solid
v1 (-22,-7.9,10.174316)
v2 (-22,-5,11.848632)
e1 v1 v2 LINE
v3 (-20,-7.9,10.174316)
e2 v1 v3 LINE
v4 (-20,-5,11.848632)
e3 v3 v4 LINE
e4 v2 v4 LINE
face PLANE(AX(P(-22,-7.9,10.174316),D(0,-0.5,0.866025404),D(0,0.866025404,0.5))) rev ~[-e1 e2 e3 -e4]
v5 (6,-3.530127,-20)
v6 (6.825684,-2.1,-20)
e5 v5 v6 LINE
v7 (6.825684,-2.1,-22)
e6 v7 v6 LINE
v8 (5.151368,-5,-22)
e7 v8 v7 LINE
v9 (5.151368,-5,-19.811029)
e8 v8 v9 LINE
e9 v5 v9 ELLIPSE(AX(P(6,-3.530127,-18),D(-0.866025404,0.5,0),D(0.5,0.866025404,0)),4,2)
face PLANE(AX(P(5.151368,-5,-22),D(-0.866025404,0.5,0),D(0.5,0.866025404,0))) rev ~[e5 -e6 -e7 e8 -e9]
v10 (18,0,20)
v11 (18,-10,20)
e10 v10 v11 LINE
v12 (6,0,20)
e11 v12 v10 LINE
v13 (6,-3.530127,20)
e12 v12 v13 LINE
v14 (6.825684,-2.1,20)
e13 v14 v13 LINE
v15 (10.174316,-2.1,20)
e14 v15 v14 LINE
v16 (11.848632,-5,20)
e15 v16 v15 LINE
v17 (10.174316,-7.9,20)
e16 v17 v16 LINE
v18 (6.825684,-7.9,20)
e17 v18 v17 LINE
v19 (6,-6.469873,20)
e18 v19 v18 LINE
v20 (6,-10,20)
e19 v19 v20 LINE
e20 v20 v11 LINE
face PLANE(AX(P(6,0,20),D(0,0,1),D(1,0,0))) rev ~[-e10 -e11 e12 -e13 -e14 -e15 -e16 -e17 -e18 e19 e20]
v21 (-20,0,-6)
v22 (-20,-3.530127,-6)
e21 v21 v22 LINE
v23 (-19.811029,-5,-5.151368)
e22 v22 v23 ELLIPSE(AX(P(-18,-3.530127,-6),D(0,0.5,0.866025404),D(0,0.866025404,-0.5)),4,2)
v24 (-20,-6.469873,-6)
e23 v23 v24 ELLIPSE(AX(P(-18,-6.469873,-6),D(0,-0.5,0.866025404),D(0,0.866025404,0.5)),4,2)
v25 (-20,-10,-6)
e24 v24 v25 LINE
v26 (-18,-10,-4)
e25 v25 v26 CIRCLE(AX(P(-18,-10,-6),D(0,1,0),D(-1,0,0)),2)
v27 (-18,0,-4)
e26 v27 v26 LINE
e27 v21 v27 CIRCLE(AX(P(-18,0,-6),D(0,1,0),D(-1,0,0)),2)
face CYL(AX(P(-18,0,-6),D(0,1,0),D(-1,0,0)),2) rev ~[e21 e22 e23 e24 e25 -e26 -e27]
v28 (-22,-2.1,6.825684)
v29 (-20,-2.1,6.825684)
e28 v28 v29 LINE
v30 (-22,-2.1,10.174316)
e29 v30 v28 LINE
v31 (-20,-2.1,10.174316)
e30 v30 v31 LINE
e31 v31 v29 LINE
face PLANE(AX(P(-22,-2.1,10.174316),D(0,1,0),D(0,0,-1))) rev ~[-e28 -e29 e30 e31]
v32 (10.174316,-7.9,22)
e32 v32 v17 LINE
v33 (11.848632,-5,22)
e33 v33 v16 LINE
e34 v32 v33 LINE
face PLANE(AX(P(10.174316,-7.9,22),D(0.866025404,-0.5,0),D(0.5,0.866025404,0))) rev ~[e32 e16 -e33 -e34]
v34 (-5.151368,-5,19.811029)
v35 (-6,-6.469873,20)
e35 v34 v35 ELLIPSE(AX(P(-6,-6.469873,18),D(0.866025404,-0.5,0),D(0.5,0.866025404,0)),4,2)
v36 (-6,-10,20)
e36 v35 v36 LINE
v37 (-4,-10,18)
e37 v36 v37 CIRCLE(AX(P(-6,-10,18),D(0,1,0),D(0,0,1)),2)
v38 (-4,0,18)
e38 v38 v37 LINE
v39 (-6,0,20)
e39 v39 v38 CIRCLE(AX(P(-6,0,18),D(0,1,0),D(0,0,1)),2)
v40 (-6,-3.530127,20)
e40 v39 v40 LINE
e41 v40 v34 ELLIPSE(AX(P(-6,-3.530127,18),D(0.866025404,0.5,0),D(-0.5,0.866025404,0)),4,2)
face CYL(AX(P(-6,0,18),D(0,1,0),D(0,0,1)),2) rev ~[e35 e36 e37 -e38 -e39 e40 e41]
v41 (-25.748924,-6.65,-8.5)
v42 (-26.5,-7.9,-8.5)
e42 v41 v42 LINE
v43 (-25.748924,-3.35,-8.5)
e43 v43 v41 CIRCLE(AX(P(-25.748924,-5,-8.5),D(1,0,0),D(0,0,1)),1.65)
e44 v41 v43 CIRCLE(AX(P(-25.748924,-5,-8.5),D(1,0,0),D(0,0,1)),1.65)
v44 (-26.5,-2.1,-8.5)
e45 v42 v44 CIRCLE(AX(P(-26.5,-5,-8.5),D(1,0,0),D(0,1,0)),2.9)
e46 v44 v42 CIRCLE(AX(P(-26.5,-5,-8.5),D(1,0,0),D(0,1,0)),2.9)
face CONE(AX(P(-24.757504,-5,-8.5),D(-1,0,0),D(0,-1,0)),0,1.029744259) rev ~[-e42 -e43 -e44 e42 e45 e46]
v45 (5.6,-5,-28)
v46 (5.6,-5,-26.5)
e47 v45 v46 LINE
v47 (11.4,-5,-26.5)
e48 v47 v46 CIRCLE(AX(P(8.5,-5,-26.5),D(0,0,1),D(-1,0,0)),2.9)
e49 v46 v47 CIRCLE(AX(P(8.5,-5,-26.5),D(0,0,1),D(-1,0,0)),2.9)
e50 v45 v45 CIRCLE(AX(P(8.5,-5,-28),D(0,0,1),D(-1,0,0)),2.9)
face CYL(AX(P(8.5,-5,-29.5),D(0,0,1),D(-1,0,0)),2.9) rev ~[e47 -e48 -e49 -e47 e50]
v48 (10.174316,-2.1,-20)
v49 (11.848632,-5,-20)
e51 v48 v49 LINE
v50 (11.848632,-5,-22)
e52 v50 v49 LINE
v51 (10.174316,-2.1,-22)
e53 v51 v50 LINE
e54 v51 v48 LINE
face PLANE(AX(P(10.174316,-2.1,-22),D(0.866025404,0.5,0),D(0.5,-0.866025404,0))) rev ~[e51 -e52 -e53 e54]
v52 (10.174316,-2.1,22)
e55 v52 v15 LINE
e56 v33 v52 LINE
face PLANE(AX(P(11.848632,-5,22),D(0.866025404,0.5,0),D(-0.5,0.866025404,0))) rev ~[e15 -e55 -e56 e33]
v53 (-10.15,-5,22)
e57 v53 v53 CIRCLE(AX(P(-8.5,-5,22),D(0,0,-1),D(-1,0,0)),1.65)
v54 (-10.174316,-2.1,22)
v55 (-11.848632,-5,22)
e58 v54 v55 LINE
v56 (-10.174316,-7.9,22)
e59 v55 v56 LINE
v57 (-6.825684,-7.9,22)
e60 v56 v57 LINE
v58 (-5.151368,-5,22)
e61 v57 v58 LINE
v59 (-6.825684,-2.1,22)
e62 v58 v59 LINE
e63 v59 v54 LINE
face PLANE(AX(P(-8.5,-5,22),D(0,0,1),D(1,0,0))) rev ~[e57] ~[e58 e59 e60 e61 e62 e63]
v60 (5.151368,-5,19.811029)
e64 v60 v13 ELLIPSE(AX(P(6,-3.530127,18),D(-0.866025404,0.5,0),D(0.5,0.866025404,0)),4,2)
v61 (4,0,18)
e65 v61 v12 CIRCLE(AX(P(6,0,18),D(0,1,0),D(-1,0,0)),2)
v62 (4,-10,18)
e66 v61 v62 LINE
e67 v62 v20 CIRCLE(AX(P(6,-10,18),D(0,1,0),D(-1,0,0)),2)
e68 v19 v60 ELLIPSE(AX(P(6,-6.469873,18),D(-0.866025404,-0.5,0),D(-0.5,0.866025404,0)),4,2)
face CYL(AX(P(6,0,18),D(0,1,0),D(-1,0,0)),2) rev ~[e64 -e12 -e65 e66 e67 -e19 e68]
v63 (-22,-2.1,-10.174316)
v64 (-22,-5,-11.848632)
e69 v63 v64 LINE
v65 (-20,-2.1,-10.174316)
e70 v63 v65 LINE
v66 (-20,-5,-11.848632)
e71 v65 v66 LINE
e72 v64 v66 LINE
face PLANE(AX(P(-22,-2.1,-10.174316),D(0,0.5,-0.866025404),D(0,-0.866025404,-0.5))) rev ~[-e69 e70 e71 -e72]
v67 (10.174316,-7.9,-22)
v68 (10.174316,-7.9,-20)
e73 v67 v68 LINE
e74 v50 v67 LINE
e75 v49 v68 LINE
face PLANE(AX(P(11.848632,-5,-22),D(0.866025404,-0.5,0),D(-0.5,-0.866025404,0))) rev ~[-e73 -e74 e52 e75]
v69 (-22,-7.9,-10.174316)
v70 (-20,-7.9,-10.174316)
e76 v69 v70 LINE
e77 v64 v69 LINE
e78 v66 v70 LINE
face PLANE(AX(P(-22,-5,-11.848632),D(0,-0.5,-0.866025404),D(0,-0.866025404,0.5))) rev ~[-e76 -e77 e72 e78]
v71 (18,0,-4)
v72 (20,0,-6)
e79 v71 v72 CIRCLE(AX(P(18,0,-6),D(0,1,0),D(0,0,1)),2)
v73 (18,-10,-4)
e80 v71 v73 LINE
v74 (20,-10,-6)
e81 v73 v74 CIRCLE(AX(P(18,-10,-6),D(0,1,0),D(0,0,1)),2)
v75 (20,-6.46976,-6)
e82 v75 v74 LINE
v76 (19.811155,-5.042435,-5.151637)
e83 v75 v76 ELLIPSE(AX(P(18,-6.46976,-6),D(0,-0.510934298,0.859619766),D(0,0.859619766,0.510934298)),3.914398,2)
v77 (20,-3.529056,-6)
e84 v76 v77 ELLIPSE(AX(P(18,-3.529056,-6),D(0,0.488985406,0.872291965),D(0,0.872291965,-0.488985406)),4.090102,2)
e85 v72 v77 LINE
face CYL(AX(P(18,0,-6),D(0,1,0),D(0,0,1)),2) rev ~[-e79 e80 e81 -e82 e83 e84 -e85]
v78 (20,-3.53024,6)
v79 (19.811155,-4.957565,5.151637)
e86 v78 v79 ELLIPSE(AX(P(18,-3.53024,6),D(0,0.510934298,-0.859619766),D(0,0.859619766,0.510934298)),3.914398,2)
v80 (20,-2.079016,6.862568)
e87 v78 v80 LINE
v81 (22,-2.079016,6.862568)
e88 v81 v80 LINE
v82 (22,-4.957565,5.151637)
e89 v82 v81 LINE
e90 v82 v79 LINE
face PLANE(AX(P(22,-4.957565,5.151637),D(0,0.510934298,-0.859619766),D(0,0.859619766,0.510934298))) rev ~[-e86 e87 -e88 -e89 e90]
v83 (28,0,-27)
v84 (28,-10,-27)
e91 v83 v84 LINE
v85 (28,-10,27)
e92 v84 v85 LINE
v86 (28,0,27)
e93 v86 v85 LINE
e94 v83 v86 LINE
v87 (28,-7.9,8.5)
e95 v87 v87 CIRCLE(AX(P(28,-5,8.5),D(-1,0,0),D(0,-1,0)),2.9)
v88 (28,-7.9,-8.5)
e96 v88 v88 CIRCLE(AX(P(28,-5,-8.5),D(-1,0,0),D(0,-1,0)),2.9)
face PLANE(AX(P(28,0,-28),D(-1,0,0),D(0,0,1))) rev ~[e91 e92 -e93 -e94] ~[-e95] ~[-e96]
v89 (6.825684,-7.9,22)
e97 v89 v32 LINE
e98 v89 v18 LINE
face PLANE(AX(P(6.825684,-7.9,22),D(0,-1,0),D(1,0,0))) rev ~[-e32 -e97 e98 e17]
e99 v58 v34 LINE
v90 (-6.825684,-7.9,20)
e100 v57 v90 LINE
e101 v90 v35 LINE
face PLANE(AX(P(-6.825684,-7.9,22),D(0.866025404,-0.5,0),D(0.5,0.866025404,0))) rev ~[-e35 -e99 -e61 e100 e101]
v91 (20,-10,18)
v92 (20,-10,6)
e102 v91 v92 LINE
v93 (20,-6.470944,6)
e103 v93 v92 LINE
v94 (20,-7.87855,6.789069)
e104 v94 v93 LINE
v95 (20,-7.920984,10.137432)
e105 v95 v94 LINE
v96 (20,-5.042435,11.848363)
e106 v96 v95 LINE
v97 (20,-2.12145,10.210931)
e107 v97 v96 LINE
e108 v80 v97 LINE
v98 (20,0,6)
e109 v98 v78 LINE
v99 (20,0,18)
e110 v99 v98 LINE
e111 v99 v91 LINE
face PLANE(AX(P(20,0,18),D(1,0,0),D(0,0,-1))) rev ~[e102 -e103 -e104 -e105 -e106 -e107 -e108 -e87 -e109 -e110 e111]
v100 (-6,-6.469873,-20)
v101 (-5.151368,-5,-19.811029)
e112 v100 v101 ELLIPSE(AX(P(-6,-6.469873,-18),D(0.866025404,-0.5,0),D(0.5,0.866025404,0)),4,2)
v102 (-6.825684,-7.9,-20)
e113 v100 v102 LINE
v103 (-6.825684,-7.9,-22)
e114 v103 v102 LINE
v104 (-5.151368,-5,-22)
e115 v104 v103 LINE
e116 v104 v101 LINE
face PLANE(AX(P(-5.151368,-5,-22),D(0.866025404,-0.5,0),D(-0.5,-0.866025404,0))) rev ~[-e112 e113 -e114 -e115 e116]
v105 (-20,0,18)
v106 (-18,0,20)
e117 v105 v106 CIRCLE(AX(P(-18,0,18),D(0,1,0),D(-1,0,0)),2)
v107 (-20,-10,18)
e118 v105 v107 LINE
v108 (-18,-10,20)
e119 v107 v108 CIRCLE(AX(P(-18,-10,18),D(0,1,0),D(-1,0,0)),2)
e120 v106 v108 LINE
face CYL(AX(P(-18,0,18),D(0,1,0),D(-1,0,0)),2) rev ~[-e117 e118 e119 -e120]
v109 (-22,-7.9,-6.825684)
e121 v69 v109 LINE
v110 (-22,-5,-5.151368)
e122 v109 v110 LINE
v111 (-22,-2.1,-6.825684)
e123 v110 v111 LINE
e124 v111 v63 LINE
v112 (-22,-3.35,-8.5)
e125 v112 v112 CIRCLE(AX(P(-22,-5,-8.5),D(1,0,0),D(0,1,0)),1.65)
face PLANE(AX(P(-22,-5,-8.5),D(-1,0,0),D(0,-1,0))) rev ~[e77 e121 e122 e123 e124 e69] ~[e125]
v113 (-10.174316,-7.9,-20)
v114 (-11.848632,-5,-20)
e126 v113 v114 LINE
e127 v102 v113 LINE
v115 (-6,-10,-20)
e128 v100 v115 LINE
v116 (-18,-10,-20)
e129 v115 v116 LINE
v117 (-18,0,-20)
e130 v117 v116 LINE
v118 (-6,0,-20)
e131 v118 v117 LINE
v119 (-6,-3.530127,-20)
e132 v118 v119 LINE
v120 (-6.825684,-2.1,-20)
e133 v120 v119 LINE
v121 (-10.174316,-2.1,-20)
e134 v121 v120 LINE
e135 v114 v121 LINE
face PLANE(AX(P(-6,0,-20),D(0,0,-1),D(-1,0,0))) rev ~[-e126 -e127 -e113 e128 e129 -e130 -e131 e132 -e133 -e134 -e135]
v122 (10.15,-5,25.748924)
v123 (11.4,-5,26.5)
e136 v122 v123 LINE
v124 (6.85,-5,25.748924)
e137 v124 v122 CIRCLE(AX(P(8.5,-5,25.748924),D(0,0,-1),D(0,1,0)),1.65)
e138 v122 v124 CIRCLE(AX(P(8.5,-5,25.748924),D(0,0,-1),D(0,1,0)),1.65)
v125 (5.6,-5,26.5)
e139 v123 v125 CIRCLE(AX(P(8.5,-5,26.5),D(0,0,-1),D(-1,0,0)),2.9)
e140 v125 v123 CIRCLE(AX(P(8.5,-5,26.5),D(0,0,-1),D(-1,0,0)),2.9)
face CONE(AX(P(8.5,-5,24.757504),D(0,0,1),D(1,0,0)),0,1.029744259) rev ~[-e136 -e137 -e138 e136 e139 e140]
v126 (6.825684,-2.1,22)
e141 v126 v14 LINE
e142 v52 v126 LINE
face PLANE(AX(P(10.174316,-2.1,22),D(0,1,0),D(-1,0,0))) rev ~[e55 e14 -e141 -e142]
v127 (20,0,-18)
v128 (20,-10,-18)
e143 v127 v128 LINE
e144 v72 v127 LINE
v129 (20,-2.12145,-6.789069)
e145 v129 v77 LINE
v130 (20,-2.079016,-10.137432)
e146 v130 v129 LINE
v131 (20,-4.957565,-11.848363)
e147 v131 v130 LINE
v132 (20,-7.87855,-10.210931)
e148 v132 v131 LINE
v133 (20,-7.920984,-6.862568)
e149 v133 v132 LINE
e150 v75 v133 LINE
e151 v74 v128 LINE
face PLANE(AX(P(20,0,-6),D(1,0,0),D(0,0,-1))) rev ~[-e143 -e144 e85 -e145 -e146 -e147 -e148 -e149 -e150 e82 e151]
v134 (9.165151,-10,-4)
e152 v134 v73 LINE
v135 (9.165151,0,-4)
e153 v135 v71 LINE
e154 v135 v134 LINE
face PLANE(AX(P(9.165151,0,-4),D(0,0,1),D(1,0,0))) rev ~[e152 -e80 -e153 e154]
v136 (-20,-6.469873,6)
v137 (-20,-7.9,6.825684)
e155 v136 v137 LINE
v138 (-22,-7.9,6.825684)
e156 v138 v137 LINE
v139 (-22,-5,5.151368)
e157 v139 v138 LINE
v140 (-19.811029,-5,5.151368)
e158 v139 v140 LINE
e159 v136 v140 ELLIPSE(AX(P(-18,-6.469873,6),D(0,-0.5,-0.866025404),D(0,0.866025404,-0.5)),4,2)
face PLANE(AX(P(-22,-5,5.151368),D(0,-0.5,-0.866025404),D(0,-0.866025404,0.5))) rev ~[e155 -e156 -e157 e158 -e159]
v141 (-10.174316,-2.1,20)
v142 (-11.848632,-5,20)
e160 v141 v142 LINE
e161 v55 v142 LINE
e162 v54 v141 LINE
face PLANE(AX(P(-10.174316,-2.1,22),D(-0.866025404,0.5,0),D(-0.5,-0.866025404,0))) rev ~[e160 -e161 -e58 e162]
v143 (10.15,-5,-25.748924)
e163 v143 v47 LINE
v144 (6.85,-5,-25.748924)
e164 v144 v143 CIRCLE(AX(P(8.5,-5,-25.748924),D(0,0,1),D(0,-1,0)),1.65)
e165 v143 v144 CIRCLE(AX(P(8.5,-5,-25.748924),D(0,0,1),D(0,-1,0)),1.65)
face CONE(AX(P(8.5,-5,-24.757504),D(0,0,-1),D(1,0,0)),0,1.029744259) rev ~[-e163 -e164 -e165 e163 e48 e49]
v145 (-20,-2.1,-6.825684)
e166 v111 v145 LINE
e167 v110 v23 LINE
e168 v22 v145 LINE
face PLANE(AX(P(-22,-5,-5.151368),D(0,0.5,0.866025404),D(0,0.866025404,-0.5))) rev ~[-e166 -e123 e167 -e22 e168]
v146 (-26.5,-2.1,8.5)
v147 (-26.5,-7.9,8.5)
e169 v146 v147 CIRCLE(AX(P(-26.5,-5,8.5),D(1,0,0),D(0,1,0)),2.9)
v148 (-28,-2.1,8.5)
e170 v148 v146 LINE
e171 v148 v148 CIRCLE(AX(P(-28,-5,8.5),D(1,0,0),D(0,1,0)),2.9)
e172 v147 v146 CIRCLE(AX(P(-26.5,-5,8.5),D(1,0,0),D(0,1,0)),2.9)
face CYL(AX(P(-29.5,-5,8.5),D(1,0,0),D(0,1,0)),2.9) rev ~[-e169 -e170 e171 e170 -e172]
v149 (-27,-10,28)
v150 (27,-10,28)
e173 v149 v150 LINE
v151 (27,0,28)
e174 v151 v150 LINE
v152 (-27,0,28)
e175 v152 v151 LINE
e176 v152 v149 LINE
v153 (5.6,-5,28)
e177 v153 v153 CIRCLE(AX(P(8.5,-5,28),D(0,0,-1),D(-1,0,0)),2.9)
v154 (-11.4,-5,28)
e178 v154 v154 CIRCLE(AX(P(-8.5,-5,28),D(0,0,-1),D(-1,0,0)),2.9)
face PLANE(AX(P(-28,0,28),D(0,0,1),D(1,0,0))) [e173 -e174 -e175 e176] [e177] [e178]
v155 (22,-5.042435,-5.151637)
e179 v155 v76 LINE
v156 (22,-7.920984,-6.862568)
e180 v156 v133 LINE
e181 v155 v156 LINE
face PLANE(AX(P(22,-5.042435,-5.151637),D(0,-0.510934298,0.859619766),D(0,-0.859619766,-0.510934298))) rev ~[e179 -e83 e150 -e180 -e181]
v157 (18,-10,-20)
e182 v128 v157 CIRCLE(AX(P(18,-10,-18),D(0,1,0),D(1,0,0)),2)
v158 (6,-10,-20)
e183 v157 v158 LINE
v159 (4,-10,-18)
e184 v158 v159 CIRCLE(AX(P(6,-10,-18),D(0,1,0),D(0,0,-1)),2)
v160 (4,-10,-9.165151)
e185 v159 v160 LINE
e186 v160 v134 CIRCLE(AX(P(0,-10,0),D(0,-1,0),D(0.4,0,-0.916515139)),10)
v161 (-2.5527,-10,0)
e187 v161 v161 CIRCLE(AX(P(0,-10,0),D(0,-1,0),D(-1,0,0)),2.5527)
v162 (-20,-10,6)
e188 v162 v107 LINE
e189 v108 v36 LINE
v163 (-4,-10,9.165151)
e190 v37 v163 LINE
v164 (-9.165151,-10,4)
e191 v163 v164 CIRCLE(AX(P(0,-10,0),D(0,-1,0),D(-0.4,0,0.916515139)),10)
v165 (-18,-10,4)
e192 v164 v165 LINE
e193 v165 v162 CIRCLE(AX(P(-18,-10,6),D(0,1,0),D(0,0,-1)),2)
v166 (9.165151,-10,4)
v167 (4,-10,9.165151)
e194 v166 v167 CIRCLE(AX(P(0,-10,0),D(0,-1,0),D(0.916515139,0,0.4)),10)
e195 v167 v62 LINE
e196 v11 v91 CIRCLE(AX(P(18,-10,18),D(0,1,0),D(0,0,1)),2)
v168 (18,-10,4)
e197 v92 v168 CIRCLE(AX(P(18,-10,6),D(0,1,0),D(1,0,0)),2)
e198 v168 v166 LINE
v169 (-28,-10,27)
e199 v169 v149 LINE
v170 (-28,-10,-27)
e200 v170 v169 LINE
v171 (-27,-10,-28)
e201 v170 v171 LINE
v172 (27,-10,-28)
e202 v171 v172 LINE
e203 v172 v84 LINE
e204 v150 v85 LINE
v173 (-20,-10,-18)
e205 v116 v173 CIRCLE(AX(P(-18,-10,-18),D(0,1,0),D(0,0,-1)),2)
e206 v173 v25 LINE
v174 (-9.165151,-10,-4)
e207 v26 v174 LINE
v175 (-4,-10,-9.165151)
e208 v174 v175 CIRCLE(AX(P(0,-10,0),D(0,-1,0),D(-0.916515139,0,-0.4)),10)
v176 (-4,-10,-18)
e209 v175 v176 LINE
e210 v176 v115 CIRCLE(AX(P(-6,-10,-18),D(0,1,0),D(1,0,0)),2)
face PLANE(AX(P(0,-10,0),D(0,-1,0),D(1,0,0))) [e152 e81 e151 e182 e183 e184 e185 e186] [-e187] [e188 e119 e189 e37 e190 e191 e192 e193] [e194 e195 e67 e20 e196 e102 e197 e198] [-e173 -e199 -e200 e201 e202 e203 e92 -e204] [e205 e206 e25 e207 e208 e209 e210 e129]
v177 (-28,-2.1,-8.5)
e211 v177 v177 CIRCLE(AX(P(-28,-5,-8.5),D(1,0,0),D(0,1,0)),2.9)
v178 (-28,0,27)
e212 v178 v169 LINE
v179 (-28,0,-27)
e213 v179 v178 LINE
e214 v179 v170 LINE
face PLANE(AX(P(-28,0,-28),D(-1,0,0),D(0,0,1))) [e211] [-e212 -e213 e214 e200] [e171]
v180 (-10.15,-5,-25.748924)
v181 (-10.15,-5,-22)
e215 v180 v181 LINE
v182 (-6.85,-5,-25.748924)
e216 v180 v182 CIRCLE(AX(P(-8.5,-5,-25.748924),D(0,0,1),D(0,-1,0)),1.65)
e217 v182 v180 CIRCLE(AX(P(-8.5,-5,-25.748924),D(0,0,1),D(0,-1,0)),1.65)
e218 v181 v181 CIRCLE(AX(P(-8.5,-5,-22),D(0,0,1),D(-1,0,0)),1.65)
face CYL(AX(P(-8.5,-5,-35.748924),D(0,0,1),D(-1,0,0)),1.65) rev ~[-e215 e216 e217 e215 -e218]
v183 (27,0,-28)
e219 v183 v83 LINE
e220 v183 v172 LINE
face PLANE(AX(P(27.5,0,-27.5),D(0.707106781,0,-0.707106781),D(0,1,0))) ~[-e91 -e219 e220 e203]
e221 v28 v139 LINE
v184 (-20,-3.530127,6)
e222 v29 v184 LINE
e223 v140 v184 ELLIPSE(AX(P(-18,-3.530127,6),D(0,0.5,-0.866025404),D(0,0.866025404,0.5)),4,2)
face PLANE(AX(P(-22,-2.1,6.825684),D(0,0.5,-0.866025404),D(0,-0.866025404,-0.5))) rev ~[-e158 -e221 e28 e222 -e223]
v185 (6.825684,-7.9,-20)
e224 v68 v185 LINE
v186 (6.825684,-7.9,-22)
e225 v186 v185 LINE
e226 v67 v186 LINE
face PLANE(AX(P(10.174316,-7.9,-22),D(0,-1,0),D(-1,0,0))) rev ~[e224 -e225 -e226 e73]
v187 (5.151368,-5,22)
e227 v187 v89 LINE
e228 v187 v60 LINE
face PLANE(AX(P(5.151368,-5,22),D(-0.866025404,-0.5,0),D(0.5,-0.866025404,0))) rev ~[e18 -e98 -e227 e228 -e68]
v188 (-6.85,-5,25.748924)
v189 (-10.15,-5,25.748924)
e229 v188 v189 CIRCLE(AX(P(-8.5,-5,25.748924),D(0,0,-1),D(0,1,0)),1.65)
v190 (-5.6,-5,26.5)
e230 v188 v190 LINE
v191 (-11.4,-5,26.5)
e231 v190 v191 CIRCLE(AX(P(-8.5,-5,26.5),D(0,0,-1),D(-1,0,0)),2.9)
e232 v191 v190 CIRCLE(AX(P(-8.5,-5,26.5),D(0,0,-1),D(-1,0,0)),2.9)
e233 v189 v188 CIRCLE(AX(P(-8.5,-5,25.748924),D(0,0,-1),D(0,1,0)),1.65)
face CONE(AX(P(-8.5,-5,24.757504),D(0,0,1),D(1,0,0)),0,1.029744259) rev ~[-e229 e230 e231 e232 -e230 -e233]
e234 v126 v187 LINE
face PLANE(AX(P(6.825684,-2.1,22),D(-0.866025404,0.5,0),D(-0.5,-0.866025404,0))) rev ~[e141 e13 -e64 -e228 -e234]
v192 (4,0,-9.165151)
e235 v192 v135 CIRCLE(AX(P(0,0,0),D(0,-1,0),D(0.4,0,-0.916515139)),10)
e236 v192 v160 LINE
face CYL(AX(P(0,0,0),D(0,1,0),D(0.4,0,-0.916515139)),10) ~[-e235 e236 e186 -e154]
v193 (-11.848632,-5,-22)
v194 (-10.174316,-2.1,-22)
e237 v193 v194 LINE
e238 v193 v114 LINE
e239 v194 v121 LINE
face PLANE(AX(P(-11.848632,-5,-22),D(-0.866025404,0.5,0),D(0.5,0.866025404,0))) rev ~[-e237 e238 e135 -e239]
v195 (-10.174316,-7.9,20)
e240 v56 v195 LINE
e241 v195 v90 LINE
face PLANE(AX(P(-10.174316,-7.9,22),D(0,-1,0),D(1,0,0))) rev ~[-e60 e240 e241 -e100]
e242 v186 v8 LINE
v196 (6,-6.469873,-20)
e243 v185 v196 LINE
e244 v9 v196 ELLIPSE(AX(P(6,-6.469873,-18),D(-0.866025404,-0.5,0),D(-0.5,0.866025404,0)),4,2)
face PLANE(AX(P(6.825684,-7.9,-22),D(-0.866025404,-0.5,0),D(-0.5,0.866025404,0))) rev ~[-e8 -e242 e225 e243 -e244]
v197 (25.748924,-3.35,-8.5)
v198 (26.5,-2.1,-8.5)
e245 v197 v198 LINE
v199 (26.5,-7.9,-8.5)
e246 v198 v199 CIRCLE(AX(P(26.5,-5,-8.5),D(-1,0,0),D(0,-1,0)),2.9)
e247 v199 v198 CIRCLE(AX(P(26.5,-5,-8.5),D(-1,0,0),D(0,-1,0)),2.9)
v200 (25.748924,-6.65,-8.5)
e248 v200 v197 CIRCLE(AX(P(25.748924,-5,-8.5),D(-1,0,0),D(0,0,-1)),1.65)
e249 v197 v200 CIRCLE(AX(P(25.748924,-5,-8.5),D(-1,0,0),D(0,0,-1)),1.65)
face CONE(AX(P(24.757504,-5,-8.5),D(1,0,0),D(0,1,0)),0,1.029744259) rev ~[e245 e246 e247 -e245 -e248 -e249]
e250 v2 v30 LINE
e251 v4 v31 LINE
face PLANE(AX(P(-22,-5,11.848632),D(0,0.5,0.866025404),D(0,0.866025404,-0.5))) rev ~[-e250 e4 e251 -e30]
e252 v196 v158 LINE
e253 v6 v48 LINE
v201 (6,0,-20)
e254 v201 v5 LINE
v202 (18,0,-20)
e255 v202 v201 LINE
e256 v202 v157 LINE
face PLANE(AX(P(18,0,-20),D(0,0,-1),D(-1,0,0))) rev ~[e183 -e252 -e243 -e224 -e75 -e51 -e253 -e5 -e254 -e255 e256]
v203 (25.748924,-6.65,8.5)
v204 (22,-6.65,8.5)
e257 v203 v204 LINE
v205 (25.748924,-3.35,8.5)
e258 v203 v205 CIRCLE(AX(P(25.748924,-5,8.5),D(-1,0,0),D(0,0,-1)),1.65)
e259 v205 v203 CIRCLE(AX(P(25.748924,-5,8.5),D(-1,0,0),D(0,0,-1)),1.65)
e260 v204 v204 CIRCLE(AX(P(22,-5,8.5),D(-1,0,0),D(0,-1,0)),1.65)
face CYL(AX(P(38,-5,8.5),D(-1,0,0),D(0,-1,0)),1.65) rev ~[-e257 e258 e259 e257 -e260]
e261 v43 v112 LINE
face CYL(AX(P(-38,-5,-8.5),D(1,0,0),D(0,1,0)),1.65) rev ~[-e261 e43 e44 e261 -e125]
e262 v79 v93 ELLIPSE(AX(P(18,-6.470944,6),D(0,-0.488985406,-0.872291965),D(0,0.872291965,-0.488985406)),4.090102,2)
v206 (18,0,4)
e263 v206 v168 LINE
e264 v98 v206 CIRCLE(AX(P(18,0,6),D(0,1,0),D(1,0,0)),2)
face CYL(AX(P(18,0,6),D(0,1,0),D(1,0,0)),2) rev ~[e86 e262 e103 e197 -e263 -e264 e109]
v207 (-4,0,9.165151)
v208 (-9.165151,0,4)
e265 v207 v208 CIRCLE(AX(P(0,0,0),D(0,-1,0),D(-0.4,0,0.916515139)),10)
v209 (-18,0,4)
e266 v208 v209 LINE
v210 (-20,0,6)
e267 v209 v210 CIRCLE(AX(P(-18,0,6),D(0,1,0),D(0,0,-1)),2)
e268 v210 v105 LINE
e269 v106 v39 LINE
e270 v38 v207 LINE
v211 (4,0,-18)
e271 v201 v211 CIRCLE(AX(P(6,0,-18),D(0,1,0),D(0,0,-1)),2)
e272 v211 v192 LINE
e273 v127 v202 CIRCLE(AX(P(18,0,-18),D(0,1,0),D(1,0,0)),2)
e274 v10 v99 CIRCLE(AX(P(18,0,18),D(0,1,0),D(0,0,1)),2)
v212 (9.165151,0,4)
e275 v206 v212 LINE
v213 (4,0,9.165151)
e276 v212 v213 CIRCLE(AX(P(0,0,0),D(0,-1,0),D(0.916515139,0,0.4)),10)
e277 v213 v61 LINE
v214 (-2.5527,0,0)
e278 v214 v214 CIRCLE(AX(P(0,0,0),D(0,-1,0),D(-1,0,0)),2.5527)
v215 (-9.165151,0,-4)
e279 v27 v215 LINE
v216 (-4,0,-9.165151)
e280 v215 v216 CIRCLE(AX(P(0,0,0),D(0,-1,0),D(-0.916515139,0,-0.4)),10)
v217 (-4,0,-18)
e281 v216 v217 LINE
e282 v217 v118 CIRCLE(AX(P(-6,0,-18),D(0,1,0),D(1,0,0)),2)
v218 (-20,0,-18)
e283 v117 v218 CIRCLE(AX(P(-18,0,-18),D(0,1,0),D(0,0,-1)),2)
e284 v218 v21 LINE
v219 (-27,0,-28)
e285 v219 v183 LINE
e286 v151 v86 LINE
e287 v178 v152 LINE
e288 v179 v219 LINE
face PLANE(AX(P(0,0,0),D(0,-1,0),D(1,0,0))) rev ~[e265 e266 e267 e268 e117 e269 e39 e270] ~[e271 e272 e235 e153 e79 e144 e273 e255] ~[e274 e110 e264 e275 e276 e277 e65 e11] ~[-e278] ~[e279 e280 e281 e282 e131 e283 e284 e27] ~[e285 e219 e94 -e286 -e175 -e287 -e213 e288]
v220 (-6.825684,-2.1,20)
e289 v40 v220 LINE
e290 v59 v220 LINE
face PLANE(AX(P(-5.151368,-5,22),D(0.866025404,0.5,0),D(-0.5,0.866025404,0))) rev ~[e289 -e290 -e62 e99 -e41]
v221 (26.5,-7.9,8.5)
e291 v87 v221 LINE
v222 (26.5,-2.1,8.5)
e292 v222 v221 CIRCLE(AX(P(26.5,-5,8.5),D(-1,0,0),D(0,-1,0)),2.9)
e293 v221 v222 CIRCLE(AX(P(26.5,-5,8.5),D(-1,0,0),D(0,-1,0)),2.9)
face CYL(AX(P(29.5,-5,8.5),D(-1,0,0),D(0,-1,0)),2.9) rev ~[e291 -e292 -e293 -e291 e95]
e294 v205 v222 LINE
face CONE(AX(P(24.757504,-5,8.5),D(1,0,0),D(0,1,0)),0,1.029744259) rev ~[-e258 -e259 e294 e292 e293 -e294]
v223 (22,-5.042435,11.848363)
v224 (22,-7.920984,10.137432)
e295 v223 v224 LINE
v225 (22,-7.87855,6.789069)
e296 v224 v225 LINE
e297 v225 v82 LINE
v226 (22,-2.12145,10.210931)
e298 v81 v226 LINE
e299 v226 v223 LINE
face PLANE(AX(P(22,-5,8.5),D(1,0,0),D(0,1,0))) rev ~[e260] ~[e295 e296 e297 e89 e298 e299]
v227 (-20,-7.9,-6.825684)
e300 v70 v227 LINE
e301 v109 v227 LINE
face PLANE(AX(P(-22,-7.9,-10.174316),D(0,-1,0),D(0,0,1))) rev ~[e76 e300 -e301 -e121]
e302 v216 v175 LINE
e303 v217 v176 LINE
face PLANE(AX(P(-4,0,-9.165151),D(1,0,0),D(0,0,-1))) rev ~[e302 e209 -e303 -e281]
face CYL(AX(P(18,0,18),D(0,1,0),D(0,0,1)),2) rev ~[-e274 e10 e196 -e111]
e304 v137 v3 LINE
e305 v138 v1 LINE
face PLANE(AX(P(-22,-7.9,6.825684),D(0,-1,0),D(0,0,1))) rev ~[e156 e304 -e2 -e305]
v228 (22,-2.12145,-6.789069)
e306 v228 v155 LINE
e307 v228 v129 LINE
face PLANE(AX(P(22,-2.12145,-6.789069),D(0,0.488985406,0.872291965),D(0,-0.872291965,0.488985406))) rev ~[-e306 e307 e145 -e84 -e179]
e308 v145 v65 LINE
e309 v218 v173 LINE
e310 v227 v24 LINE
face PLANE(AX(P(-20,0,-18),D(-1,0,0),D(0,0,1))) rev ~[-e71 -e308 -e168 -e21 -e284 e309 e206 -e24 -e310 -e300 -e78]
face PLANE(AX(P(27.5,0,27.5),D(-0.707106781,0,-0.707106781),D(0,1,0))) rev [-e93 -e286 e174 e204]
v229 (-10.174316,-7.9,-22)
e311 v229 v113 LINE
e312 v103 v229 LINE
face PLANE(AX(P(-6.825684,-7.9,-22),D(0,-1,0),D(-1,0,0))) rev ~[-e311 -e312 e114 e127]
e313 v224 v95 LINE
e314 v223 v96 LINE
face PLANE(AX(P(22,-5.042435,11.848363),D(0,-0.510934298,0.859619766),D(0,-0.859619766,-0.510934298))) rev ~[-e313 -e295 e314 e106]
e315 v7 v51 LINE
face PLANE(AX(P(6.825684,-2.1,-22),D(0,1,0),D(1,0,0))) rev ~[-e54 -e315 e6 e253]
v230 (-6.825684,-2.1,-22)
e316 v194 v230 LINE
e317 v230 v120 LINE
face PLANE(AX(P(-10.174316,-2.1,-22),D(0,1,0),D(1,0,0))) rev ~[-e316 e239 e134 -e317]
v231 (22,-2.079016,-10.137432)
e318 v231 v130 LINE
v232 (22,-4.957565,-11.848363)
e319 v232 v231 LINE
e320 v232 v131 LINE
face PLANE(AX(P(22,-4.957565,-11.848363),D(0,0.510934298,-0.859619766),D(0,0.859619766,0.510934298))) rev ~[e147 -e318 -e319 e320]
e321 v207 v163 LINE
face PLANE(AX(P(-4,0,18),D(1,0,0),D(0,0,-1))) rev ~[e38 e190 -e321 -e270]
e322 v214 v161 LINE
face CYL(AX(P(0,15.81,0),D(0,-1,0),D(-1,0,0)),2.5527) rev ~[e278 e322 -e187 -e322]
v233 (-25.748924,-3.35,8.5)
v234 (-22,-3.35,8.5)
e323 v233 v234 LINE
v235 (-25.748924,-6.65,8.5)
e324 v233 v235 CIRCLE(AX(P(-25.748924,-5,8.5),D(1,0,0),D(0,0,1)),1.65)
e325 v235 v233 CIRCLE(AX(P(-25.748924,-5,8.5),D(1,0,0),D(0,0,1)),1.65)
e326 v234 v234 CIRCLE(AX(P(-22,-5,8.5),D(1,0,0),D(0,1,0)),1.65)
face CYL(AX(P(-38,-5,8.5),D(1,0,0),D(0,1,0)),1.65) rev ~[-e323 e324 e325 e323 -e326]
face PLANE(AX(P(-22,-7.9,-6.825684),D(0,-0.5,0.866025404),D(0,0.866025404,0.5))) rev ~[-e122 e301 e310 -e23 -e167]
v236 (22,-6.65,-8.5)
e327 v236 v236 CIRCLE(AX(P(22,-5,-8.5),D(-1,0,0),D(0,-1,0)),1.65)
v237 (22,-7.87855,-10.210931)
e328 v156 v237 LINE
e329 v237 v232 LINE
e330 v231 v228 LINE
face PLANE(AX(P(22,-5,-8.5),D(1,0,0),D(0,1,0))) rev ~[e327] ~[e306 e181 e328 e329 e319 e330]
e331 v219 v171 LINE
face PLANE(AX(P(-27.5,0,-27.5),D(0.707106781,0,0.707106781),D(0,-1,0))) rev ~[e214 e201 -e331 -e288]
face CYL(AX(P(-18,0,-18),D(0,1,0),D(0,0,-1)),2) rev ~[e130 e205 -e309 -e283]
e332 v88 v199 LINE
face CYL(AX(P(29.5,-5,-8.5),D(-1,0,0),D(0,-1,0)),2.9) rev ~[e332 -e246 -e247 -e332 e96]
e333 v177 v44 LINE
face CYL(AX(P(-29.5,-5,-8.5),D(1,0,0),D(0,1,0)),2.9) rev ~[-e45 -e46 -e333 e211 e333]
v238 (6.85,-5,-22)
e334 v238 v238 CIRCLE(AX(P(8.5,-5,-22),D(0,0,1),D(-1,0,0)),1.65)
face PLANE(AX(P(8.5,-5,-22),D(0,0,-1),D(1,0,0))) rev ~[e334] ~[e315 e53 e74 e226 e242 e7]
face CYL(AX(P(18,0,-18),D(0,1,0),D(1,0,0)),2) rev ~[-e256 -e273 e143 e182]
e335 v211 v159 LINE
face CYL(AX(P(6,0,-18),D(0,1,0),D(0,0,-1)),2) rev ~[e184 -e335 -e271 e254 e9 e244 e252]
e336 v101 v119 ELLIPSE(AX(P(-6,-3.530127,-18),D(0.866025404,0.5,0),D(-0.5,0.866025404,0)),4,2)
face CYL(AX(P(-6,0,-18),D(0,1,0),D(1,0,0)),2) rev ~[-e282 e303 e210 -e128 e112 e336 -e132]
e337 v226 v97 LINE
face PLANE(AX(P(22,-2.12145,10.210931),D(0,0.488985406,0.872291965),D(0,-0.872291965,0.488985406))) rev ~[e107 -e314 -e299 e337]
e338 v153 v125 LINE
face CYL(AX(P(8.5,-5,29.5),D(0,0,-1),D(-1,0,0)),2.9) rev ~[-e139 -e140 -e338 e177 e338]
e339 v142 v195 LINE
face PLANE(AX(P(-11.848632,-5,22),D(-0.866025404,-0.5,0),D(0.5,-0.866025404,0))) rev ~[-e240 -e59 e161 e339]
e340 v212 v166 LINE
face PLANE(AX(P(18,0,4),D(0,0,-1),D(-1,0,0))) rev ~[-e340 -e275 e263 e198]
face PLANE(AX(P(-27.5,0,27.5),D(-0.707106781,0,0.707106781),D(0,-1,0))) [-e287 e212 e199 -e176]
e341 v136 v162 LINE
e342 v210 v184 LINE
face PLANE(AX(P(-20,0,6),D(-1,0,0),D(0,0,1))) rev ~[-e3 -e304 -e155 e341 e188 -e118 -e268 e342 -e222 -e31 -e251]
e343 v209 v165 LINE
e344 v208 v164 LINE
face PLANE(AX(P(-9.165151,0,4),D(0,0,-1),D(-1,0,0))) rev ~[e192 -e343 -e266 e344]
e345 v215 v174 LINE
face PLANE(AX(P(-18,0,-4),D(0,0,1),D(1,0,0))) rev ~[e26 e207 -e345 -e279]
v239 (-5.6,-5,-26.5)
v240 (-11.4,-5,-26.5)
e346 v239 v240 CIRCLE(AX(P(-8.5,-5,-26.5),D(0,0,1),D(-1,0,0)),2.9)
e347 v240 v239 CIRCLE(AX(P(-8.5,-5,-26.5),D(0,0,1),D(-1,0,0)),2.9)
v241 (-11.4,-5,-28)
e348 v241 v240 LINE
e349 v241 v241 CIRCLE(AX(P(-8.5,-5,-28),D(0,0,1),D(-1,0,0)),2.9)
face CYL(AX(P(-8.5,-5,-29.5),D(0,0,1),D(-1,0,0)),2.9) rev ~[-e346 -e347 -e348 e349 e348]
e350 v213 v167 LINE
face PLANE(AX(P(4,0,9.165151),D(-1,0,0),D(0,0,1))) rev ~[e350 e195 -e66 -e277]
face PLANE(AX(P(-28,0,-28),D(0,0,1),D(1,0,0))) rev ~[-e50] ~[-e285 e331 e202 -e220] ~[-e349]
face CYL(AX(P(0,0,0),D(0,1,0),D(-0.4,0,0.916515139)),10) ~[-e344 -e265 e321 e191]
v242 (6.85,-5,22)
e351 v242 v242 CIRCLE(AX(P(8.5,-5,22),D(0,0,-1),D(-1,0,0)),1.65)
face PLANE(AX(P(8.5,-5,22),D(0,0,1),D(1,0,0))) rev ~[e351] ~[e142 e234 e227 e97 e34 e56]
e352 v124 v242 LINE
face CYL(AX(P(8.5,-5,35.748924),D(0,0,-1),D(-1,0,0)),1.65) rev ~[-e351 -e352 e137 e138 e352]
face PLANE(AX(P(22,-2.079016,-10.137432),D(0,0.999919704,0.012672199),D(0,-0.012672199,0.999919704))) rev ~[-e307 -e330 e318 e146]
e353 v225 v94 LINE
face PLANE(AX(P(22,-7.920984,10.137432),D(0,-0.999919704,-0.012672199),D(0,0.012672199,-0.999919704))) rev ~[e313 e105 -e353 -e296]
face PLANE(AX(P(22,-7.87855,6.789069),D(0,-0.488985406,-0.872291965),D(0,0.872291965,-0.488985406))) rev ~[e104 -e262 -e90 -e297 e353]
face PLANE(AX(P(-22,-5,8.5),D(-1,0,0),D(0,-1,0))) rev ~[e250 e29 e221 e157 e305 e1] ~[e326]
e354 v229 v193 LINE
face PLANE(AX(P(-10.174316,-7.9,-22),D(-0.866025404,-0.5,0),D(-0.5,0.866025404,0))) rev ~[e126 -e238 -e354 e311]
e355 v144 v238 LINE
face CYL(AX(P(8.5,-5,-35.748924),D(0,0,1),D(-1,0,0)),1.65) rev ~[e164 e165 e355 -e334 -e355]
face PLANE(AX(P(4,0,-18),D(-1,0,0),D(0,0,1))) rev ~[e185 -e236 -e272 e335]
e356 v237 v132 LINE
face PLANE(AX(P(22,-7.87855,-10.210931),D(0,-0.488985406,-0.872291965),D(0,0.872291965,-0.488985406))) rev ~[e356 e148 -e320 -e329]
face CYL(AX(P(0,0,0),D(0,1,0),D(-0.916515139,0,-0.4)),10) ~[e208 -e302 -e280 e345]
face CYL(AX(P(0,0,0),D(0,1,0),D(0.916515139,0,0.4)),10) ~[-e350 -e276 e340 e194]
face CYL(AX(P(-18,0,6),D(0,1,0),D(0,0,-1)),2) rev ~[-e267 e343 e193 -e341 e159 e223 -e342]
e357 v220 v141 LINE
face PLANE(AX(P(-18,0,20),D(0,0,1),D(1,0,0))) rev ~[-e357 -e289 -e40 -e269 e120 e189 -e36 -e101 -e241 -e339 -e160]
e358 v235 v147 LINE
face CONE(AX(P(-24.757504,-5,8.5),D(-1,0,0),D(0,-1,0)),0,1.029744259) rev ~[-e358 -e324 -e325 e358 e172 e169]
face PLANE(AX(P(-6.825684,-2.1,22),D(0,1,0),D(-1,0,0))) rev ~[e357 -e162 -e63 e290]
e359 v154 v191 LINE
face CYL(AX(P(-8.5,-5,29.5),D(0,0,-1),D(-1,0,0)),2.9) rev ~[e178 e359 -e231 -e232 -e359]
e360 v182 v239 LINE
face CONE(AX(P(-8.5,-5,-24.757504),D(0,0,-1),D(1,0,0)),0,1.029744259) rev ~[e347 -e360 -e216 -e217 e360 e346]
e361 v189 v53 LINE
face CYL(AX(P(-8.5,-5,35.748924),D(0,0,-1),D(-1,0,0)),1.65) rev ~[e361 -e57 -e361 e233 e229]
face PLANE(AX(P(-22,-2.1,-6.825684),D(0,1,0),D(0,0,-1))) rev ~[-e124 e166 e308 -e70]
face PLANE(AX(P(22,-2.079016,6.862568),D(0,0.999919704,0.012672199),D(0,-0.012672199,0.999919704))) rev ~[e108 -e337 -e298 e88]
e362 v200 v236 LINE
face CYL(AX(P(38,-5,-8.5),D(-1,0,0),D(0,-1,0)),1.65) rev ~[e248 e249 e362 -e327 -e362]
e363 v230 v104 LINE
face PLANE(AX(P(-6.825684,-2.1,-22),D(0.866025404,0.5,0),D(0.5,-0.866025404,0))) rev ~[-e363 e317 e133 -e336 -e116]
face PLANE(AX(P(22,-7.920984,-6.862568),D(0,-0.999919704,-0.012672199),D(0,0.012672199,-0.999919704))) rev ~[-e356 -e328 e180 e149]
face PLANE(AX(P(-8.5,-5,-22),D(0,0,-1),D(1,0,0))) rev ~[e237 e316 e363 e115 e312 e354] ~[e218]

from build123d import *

# Parameters (mm, degrees)
F0_W      = 56
F0_H      = 56
F0_W_2    = 8
F0_H_2    = 8
F1_DEPTH  = 10
F3_START  = -6
F3_DEPTH  = 4
F4_D      = 3.3
F4_DEPTH  = 10
F4_TIP    = 0.9914200214
F5_D      = 5.8
F5_DEPTH  = 1.5
F5_TIP    = 1.7424957952
F7_START  = -6
F7_DEPTH  = 4
F8_D      = 5.8
F8_DEPTH  = 1.5
F8_TIP    = 1.7424957952
F9_D      = 3.3
F9_DEPTH  = 10
F9_START  = 2.2510758
F9_TIP    = 0.9914200214
F11_START = -6
F11_DEPTH = 4
F12_D     = 3.3
F12_DEPTH = 10
F12_TIP   = 0.9914200214
F13_D     = 5.8
F13_DEPTH = 1.5
F13_TIP   = 1.7424957952
F15_START = -6
F15_DEPTH = 4
F16_D     = 5.8
F16_DEPTH = 1.5
F16_TIP   = 1.7424957952
F17_D     = 3.3
F17_DEPTH = 10
F17_START = 2.2510758
F17_TIP   = 0.9914200214
F18_SIZE  = 1
F19_D     = 5.1054
F19_DEPTH = 15.81
F19_TIP   = 1.5338169022


with BuildPart() as f1:
    # F0 (on Front) → F1 (new body)
    with BuildSketch(Plane.XZ):
        Rectangle(F0_W, F0_H)
        with BuildLine():
            ThreePointArc((20, -18), (19.4142135624, -19.4142135624), (18, -20))
            Line((18, -20), (6, -20))
            ThreePointArc((6, -20), (4.5857864376, -19.4142135624), (4, -18))
            Line((4, -18), (4, -9.1651513899))
            ThreePointArc((4, -9.1651513899), (0, -10), (-4, -9.1651513899))
            Line((-4, -9.1651513899), (-4, -18))
            ThreePointArc((-4, -18), (-4.5857864376, -19.4142135624), (-6, -20))
            Line((-6, -20), (-18, -20))
            ThreePointArc((-18, -20), (-19.4142135624, -19.4142135624), (-20, -18))
            Line((-20, -18), (-20, -6))
            ThreePointArc((-20, -6), (-19.4142135624, -4.5857864376), (-18, -4))
            Line((-18, -4), (-9.1651513899, -4))
            ThreePointArc((-9.1651513899, -4), (-10, 0), (-9.1651513899, 4))
            Line((-9.1651513899, 4), (-18, 4))
            ThreePointArc((-18, 4), (-19.4142135624, 4.5857864376), (-20, 6))
            Line((-20, 6), (-20, 18))
            ThreePointArc((-20, 18), (-19.4142135624, 19.4142135624), (-18, 20))
            Line((-18, 20), (-6, 20))
            ThreePointArc((-6, 20), (-4.5857864376, 19.4142135624), (-4, 18))
            Line((-4, 18), (-4, 9.1651513899))
            ThreePointArc((-4, 9.1651513899), (0, 10), (4, 9.1651513899))
            Line((4, 9.1651513899), (4, 18))
            ThreePointArc((4, 18), (4.5857864376, 19.4142135624), (6, 20))
            Line((6, 20), (18, 20))
            ThreePointArc((18, 20), (19.4142135624, 19.4142135624), (20, 18))
            Line((20, 18), (20, 6))
            ThreePointArc((20, 6), (19.4142135624, 4.5857864376), (18, 4))
            Line((18, 4), (9.1651513899, 4))
            ThreePointArc((9.1651513899, 4), (9.7890631293, 2.0430964369), (10, 0))
            ThreePointArc((10, 0), (9.7890631293, -2.0430964369), (9.1651513899, -4))
            Line((9.1651513899, -4), (18, -4))
            ThreePointArc((18, -4), (19.4142135624, -4.5857864376), (20, -6))
            Line((20, -6), (20, -18))
        make_face(mode=Mode.SUBTRACT)
        with BuildLine():
            Line((-9.1651513899, 4), (-4, 4))
            Line((-4, 4), (-4, 9.1651513899))
            ThreePointArc((-4, 9.1651513899), (-7.0710678119, 7.0710678119), (-9.1651513899, 4))
        make_face()
        with BuildLine():
            Line((-4, 4), (4, 4))
            Line((4, 4), (4, 9.1651513899))
            ThreePointArc((4, 9.1651513899), (0, 10), (-4, 9.1651513899))
            Line((-4, 9.1651513899), (-4, 4))
        make_face()
        with BuildLine():
            Line((4, 9.1651513899), (4, 4))
            Line((4, 4), (9.1651513899, 4))
            ThreePointArc((9.1651513899, 4), (7.0710678119, 7.0710678119), (4, 9.1651513899))
        make_face()
        with BuildLine():
            Line((4, 4), (4, -4))
            Line((4, -4), (9.1651513899, -4))
            ThreePointArc((9.1651513899, -4), (9.7890631293, -2.0430964369), (10, 0))
            ThreePointArc((10, 0), (9.7890631293, 2.0430964369), (9.1651513899, 4))
            Line((9.1651513899, 4), (4, 4))
        make_face()
        with BuildLine():
            Line((4, -4), (4, -9.1651513899))
            ThreePointArc((4, -9.1651513899), (7.0710678119, -7.0710678119), (9.1651513899, -4))
            Line((9.1651513899, -4), (4, -4))
        make_face()
        with BuildLine():
            ThreePointArc((-4, -9.1651513899), (0, -10), (4, -9.1651513899))
            Line((4, -9.1651513899), (4, -4))
            Line((4, -4), (-4, -4))
            Line((-4, -4), (-4, -9.1651513899))
        make_face()
        with BuildLine():
            ThreePointArc((-9.1651513899, -4), (-7.0710678119, -7.0710678119), (-4, -9.1651513899))
            Line((-4, -9.1651513899), (-4, -4))
            Line((-4, -4), (-9.1651513899, -4))
        make_face()
        with BuildLine():
            Line((-9.1651513899, -4), (-4, -4))
            Line((-4, -4), (-4, 4))
            Line((-4, 4), (-9.1651513899, 4))
            ThreePointArc((-9.1651513899, 4), (-10, 0), (-9.1651513899, -4))
        make_face()
        Rectangle(F0_W_2, F0_H_2)
    extrude(amount=F1_DEPTH)

    # F2 (on face) → F3 (cut)
    with BuildSketch(Plane.YZ.offset(28).offset(F3_START)):
        Polygon((-7.8785498805, 6.7890692829), (-4.9575654752, 5.1516373189), (-2.0790155946, 6.8625680359), (-2.1214501195, 10.2109307171), (-5.0424345248, 11.8483626811), (-7.9209844054, 10.1374319641), align=None)
        Polygon((-7.8785498805, -10.2109307171), (-4.9575654752, -11.8483626811), (-2.0790155946, -10.1374319641), (-2.1214501195, -6.7890692829), (-5.0424345248, -5.1516373189), (-7.9209844054, -6.8625680359), align=None)
    extrude(amount=-F3_DEPTH, mode=Mode.SUBTRACT)

    # F4
    with Locations(Plane.YZ.offset(28)):
        with Locations((-5, -8.5), (-5, 8.5)):
            Hole(F4_D / 2, depth=F4_DEPTH)
            with Locations((0, 0, -(F4_DEPTH + F4_TIP / 2))):  # 118° drill point
                Cone(0, F4_D / 2, F4_TIP, mode=Mode.SUBTRACT)

    # F5
    with Locations(Plane.YZ.offset(28)):
        with Locations((-5, 8.5), (-5, -8.5)):
            Hole(F5_D / 2, depth=F5_DEPTH)
            with Locations((0, 0, -(F5_DEPTH + F5_TIP / 2))):  # 118° drill point
                Cone(0, F5_D / 2, F5_TIP, mode=Mode.SUBTRACT)

    # F6 (on face) → F7 (cut)
    with BuildSketch(Plane(origin=(0, 0, -28), x_dir=(1, 0, 0), z_dir=(0, 0, -1)).offset(F7_START)):
        Polygon((6.8256842194, 7.9), (5.1513684387, 5), (6.8256842194, 2.1), (10.1743157806, 2.1), (11.8486315613, 5), (10.1743157806, 7.9), align=None)
        Polygon((-10.1743157806, 7.9), (-11.8486315613, 5), (-10.1743157806, 2.1), (-6.8256842194, 2.1), (-5.1513684387, 5), (-6.8256842194, 7.9), align=None)
    extrude(amount=-F7_DEPTH, mode=Mode.SUBTRACT)

    # F8
    with Locations(Plane(origin=(0, 0, -28), x_dir=(1, 0, 0), z_dir=(0, 0, -1))):
        with Locations((8.5, 5), (-8.5, 5)):
            Hole(F8_D / 2, depth=F8_DEPTH)
            with Locations((0, 0, -(F8_DEPTH + F8_TIP / 2))):  # 118° drill point
                Cone(0, F8_D / 2, F8_TIP, mode=Mode.SUBTRACT)

    # F9
    # its depths count from where the whole tool has entered the part; down to there all is cleared
    with Locations(Plane(origin=(0, 0, -28), x_dir=(1, 0, 0), z_dir=(0, 0, -1)).offset(-F9_START)):
        with Locations((8.5, 5), (-8.5, 5)):
            Hole(F9_D / 2, depth=F9_DEPTH)
            with Locations((0, 0, -(F9_DEPTH + F9_TIP / 2))):  # 118° drill point
                Cone(0, F9_D / 2, F9_TIP, mode=Mode.SUBTRACT)

    # F10 (on face) → F11 (cut)
    with BuildSketch(Plane(origin=(-28, 0, 0), x_dir=(0, -1, 0), z_dir=(-1, 0, 0)).offset(F11_START)):
        Polygon((7.9, -6.8256842194), (5, -5.1513684387), (2.1, -6.8256842194), (2.1, -10.1743157806), (5, -11.8486315613), (7.9, -10.1743157806), align=None)
        Polygon((7.9, 10.1743157806), (5, 11.8486315613), (2.1, 10.1743157806), (2.1, 6.8256842194), (5, 5.1513684387), (7.9, 6.8256842194), align=None)
    extrude(amount=-F11_DEPTH, mode=Mode.SUBTRACT)

    # F12
    with Locations(Plane(origin=(-28, 0, 0), x_dir=(0, -1, 0), z_dir=(-1, 0, 0))):
        with Locations((5, -8.5), (5, 8.5)):
            Hole(F12_D / 2, depth=F12_DEPTH)
            with Locations((0, 0, -(F12_DEPTH + F12_TIP / 2))):  # 118° drill point
                Cone(0, F12_D / 2, F12_TIP, mode=Mode.SUBTRACT)

    # F13
    with Locations(Plane(origin=(-28, 0, 0), x_dir=(0, -1, 0), z_dir=(-1, 0, 0))):
        with Locations((5, -8.5), (5, 8.5)):
            Hole(F13_D / 2, depth=F13_DEPTH)
            with Locations((0, 0, -(F13_DEPTH + F13_TIP / 2))):  # 118° drill point
                Cone(0, F13_D / 2, F13_TIP, mode=Mode.SUBTRACT)

    # F14 (on face) → F15 (cut)
    with BuildSketch(Plane.XY.offset(28).offset(F15_START)):
        Polygon((-6.8256842194, -7.9), (-5.1513684387, -5), (-6.8256842194, -2.1), (-10.1743157806, -2.1), (-11.8486315613, -5), (-10.1743157806, -7.9), align=None)
        Polygon((6.8256842194, -7.9), (10.1743157806, -7.9), (11.8486315613, -5), (10.1743157806, -2.1), (6.8256842194, -2.1), (5.1513684387, -5), align=None)
    extrude(amount=-F15_DEPTH, mode=Mode.SUBTRACT)

    # F16
    with Locations(Plane.XY.offset(28)):
        with Locations((-8.5, -5), (8.5, -5)):
            Hole(F16_D / 2, depth=F16_DEPTH)
            with Locations((0, 0, -(F16_DEPTH + F16_TIP / 2))):  # 118° drill point
                Cone(0, F16_D / 2, F16_TIP, mode=Mode.SUBTRACT)

    # F17
    # its depths count from where the whole tool has entered the part; down to there all is cleared
    with Locations(Plane.XY.offset(28).offset(-F17_START)):
        with Locations((-8.5, -5), (8.5, -5)):
            Hole(F17_D / 2, depth=F17_DEPTH)
            with Locations((0, 0, -(F17_DEPTH + F17_TIP / 2))):  # 118° drill point
                Cone(0, F17_D / 2, F17_TIP, mode=Mode.SUBTRACT)

    # F18
    f18_edges = [f1.edges().sort_by_distance(p)[0] for p in [
        (28, -5, 28),
        (28, -5, -28),
        (-28, -5, -28),
        (-28, -5, 28),
    ]]
    chamfer(f18_edges, length=F18_SIZE)

    # F19
    with Locations(Plane(origin=(0, 0, 0), x_dir=(1, 0, 0), z_dir=(0, 1, 0))):
        with Locations((0, 0)):
            Hole(F19_D / 2, depth=F19_DEPTH)
            with Locations((0, 0, -(F19_DEPTH + F19_TIP / 2))):  # 118° drill point
                Cone(0, F19_D / 2, F19_TIP, mode=Mode.SUBTRACT)


solid = f1.part
